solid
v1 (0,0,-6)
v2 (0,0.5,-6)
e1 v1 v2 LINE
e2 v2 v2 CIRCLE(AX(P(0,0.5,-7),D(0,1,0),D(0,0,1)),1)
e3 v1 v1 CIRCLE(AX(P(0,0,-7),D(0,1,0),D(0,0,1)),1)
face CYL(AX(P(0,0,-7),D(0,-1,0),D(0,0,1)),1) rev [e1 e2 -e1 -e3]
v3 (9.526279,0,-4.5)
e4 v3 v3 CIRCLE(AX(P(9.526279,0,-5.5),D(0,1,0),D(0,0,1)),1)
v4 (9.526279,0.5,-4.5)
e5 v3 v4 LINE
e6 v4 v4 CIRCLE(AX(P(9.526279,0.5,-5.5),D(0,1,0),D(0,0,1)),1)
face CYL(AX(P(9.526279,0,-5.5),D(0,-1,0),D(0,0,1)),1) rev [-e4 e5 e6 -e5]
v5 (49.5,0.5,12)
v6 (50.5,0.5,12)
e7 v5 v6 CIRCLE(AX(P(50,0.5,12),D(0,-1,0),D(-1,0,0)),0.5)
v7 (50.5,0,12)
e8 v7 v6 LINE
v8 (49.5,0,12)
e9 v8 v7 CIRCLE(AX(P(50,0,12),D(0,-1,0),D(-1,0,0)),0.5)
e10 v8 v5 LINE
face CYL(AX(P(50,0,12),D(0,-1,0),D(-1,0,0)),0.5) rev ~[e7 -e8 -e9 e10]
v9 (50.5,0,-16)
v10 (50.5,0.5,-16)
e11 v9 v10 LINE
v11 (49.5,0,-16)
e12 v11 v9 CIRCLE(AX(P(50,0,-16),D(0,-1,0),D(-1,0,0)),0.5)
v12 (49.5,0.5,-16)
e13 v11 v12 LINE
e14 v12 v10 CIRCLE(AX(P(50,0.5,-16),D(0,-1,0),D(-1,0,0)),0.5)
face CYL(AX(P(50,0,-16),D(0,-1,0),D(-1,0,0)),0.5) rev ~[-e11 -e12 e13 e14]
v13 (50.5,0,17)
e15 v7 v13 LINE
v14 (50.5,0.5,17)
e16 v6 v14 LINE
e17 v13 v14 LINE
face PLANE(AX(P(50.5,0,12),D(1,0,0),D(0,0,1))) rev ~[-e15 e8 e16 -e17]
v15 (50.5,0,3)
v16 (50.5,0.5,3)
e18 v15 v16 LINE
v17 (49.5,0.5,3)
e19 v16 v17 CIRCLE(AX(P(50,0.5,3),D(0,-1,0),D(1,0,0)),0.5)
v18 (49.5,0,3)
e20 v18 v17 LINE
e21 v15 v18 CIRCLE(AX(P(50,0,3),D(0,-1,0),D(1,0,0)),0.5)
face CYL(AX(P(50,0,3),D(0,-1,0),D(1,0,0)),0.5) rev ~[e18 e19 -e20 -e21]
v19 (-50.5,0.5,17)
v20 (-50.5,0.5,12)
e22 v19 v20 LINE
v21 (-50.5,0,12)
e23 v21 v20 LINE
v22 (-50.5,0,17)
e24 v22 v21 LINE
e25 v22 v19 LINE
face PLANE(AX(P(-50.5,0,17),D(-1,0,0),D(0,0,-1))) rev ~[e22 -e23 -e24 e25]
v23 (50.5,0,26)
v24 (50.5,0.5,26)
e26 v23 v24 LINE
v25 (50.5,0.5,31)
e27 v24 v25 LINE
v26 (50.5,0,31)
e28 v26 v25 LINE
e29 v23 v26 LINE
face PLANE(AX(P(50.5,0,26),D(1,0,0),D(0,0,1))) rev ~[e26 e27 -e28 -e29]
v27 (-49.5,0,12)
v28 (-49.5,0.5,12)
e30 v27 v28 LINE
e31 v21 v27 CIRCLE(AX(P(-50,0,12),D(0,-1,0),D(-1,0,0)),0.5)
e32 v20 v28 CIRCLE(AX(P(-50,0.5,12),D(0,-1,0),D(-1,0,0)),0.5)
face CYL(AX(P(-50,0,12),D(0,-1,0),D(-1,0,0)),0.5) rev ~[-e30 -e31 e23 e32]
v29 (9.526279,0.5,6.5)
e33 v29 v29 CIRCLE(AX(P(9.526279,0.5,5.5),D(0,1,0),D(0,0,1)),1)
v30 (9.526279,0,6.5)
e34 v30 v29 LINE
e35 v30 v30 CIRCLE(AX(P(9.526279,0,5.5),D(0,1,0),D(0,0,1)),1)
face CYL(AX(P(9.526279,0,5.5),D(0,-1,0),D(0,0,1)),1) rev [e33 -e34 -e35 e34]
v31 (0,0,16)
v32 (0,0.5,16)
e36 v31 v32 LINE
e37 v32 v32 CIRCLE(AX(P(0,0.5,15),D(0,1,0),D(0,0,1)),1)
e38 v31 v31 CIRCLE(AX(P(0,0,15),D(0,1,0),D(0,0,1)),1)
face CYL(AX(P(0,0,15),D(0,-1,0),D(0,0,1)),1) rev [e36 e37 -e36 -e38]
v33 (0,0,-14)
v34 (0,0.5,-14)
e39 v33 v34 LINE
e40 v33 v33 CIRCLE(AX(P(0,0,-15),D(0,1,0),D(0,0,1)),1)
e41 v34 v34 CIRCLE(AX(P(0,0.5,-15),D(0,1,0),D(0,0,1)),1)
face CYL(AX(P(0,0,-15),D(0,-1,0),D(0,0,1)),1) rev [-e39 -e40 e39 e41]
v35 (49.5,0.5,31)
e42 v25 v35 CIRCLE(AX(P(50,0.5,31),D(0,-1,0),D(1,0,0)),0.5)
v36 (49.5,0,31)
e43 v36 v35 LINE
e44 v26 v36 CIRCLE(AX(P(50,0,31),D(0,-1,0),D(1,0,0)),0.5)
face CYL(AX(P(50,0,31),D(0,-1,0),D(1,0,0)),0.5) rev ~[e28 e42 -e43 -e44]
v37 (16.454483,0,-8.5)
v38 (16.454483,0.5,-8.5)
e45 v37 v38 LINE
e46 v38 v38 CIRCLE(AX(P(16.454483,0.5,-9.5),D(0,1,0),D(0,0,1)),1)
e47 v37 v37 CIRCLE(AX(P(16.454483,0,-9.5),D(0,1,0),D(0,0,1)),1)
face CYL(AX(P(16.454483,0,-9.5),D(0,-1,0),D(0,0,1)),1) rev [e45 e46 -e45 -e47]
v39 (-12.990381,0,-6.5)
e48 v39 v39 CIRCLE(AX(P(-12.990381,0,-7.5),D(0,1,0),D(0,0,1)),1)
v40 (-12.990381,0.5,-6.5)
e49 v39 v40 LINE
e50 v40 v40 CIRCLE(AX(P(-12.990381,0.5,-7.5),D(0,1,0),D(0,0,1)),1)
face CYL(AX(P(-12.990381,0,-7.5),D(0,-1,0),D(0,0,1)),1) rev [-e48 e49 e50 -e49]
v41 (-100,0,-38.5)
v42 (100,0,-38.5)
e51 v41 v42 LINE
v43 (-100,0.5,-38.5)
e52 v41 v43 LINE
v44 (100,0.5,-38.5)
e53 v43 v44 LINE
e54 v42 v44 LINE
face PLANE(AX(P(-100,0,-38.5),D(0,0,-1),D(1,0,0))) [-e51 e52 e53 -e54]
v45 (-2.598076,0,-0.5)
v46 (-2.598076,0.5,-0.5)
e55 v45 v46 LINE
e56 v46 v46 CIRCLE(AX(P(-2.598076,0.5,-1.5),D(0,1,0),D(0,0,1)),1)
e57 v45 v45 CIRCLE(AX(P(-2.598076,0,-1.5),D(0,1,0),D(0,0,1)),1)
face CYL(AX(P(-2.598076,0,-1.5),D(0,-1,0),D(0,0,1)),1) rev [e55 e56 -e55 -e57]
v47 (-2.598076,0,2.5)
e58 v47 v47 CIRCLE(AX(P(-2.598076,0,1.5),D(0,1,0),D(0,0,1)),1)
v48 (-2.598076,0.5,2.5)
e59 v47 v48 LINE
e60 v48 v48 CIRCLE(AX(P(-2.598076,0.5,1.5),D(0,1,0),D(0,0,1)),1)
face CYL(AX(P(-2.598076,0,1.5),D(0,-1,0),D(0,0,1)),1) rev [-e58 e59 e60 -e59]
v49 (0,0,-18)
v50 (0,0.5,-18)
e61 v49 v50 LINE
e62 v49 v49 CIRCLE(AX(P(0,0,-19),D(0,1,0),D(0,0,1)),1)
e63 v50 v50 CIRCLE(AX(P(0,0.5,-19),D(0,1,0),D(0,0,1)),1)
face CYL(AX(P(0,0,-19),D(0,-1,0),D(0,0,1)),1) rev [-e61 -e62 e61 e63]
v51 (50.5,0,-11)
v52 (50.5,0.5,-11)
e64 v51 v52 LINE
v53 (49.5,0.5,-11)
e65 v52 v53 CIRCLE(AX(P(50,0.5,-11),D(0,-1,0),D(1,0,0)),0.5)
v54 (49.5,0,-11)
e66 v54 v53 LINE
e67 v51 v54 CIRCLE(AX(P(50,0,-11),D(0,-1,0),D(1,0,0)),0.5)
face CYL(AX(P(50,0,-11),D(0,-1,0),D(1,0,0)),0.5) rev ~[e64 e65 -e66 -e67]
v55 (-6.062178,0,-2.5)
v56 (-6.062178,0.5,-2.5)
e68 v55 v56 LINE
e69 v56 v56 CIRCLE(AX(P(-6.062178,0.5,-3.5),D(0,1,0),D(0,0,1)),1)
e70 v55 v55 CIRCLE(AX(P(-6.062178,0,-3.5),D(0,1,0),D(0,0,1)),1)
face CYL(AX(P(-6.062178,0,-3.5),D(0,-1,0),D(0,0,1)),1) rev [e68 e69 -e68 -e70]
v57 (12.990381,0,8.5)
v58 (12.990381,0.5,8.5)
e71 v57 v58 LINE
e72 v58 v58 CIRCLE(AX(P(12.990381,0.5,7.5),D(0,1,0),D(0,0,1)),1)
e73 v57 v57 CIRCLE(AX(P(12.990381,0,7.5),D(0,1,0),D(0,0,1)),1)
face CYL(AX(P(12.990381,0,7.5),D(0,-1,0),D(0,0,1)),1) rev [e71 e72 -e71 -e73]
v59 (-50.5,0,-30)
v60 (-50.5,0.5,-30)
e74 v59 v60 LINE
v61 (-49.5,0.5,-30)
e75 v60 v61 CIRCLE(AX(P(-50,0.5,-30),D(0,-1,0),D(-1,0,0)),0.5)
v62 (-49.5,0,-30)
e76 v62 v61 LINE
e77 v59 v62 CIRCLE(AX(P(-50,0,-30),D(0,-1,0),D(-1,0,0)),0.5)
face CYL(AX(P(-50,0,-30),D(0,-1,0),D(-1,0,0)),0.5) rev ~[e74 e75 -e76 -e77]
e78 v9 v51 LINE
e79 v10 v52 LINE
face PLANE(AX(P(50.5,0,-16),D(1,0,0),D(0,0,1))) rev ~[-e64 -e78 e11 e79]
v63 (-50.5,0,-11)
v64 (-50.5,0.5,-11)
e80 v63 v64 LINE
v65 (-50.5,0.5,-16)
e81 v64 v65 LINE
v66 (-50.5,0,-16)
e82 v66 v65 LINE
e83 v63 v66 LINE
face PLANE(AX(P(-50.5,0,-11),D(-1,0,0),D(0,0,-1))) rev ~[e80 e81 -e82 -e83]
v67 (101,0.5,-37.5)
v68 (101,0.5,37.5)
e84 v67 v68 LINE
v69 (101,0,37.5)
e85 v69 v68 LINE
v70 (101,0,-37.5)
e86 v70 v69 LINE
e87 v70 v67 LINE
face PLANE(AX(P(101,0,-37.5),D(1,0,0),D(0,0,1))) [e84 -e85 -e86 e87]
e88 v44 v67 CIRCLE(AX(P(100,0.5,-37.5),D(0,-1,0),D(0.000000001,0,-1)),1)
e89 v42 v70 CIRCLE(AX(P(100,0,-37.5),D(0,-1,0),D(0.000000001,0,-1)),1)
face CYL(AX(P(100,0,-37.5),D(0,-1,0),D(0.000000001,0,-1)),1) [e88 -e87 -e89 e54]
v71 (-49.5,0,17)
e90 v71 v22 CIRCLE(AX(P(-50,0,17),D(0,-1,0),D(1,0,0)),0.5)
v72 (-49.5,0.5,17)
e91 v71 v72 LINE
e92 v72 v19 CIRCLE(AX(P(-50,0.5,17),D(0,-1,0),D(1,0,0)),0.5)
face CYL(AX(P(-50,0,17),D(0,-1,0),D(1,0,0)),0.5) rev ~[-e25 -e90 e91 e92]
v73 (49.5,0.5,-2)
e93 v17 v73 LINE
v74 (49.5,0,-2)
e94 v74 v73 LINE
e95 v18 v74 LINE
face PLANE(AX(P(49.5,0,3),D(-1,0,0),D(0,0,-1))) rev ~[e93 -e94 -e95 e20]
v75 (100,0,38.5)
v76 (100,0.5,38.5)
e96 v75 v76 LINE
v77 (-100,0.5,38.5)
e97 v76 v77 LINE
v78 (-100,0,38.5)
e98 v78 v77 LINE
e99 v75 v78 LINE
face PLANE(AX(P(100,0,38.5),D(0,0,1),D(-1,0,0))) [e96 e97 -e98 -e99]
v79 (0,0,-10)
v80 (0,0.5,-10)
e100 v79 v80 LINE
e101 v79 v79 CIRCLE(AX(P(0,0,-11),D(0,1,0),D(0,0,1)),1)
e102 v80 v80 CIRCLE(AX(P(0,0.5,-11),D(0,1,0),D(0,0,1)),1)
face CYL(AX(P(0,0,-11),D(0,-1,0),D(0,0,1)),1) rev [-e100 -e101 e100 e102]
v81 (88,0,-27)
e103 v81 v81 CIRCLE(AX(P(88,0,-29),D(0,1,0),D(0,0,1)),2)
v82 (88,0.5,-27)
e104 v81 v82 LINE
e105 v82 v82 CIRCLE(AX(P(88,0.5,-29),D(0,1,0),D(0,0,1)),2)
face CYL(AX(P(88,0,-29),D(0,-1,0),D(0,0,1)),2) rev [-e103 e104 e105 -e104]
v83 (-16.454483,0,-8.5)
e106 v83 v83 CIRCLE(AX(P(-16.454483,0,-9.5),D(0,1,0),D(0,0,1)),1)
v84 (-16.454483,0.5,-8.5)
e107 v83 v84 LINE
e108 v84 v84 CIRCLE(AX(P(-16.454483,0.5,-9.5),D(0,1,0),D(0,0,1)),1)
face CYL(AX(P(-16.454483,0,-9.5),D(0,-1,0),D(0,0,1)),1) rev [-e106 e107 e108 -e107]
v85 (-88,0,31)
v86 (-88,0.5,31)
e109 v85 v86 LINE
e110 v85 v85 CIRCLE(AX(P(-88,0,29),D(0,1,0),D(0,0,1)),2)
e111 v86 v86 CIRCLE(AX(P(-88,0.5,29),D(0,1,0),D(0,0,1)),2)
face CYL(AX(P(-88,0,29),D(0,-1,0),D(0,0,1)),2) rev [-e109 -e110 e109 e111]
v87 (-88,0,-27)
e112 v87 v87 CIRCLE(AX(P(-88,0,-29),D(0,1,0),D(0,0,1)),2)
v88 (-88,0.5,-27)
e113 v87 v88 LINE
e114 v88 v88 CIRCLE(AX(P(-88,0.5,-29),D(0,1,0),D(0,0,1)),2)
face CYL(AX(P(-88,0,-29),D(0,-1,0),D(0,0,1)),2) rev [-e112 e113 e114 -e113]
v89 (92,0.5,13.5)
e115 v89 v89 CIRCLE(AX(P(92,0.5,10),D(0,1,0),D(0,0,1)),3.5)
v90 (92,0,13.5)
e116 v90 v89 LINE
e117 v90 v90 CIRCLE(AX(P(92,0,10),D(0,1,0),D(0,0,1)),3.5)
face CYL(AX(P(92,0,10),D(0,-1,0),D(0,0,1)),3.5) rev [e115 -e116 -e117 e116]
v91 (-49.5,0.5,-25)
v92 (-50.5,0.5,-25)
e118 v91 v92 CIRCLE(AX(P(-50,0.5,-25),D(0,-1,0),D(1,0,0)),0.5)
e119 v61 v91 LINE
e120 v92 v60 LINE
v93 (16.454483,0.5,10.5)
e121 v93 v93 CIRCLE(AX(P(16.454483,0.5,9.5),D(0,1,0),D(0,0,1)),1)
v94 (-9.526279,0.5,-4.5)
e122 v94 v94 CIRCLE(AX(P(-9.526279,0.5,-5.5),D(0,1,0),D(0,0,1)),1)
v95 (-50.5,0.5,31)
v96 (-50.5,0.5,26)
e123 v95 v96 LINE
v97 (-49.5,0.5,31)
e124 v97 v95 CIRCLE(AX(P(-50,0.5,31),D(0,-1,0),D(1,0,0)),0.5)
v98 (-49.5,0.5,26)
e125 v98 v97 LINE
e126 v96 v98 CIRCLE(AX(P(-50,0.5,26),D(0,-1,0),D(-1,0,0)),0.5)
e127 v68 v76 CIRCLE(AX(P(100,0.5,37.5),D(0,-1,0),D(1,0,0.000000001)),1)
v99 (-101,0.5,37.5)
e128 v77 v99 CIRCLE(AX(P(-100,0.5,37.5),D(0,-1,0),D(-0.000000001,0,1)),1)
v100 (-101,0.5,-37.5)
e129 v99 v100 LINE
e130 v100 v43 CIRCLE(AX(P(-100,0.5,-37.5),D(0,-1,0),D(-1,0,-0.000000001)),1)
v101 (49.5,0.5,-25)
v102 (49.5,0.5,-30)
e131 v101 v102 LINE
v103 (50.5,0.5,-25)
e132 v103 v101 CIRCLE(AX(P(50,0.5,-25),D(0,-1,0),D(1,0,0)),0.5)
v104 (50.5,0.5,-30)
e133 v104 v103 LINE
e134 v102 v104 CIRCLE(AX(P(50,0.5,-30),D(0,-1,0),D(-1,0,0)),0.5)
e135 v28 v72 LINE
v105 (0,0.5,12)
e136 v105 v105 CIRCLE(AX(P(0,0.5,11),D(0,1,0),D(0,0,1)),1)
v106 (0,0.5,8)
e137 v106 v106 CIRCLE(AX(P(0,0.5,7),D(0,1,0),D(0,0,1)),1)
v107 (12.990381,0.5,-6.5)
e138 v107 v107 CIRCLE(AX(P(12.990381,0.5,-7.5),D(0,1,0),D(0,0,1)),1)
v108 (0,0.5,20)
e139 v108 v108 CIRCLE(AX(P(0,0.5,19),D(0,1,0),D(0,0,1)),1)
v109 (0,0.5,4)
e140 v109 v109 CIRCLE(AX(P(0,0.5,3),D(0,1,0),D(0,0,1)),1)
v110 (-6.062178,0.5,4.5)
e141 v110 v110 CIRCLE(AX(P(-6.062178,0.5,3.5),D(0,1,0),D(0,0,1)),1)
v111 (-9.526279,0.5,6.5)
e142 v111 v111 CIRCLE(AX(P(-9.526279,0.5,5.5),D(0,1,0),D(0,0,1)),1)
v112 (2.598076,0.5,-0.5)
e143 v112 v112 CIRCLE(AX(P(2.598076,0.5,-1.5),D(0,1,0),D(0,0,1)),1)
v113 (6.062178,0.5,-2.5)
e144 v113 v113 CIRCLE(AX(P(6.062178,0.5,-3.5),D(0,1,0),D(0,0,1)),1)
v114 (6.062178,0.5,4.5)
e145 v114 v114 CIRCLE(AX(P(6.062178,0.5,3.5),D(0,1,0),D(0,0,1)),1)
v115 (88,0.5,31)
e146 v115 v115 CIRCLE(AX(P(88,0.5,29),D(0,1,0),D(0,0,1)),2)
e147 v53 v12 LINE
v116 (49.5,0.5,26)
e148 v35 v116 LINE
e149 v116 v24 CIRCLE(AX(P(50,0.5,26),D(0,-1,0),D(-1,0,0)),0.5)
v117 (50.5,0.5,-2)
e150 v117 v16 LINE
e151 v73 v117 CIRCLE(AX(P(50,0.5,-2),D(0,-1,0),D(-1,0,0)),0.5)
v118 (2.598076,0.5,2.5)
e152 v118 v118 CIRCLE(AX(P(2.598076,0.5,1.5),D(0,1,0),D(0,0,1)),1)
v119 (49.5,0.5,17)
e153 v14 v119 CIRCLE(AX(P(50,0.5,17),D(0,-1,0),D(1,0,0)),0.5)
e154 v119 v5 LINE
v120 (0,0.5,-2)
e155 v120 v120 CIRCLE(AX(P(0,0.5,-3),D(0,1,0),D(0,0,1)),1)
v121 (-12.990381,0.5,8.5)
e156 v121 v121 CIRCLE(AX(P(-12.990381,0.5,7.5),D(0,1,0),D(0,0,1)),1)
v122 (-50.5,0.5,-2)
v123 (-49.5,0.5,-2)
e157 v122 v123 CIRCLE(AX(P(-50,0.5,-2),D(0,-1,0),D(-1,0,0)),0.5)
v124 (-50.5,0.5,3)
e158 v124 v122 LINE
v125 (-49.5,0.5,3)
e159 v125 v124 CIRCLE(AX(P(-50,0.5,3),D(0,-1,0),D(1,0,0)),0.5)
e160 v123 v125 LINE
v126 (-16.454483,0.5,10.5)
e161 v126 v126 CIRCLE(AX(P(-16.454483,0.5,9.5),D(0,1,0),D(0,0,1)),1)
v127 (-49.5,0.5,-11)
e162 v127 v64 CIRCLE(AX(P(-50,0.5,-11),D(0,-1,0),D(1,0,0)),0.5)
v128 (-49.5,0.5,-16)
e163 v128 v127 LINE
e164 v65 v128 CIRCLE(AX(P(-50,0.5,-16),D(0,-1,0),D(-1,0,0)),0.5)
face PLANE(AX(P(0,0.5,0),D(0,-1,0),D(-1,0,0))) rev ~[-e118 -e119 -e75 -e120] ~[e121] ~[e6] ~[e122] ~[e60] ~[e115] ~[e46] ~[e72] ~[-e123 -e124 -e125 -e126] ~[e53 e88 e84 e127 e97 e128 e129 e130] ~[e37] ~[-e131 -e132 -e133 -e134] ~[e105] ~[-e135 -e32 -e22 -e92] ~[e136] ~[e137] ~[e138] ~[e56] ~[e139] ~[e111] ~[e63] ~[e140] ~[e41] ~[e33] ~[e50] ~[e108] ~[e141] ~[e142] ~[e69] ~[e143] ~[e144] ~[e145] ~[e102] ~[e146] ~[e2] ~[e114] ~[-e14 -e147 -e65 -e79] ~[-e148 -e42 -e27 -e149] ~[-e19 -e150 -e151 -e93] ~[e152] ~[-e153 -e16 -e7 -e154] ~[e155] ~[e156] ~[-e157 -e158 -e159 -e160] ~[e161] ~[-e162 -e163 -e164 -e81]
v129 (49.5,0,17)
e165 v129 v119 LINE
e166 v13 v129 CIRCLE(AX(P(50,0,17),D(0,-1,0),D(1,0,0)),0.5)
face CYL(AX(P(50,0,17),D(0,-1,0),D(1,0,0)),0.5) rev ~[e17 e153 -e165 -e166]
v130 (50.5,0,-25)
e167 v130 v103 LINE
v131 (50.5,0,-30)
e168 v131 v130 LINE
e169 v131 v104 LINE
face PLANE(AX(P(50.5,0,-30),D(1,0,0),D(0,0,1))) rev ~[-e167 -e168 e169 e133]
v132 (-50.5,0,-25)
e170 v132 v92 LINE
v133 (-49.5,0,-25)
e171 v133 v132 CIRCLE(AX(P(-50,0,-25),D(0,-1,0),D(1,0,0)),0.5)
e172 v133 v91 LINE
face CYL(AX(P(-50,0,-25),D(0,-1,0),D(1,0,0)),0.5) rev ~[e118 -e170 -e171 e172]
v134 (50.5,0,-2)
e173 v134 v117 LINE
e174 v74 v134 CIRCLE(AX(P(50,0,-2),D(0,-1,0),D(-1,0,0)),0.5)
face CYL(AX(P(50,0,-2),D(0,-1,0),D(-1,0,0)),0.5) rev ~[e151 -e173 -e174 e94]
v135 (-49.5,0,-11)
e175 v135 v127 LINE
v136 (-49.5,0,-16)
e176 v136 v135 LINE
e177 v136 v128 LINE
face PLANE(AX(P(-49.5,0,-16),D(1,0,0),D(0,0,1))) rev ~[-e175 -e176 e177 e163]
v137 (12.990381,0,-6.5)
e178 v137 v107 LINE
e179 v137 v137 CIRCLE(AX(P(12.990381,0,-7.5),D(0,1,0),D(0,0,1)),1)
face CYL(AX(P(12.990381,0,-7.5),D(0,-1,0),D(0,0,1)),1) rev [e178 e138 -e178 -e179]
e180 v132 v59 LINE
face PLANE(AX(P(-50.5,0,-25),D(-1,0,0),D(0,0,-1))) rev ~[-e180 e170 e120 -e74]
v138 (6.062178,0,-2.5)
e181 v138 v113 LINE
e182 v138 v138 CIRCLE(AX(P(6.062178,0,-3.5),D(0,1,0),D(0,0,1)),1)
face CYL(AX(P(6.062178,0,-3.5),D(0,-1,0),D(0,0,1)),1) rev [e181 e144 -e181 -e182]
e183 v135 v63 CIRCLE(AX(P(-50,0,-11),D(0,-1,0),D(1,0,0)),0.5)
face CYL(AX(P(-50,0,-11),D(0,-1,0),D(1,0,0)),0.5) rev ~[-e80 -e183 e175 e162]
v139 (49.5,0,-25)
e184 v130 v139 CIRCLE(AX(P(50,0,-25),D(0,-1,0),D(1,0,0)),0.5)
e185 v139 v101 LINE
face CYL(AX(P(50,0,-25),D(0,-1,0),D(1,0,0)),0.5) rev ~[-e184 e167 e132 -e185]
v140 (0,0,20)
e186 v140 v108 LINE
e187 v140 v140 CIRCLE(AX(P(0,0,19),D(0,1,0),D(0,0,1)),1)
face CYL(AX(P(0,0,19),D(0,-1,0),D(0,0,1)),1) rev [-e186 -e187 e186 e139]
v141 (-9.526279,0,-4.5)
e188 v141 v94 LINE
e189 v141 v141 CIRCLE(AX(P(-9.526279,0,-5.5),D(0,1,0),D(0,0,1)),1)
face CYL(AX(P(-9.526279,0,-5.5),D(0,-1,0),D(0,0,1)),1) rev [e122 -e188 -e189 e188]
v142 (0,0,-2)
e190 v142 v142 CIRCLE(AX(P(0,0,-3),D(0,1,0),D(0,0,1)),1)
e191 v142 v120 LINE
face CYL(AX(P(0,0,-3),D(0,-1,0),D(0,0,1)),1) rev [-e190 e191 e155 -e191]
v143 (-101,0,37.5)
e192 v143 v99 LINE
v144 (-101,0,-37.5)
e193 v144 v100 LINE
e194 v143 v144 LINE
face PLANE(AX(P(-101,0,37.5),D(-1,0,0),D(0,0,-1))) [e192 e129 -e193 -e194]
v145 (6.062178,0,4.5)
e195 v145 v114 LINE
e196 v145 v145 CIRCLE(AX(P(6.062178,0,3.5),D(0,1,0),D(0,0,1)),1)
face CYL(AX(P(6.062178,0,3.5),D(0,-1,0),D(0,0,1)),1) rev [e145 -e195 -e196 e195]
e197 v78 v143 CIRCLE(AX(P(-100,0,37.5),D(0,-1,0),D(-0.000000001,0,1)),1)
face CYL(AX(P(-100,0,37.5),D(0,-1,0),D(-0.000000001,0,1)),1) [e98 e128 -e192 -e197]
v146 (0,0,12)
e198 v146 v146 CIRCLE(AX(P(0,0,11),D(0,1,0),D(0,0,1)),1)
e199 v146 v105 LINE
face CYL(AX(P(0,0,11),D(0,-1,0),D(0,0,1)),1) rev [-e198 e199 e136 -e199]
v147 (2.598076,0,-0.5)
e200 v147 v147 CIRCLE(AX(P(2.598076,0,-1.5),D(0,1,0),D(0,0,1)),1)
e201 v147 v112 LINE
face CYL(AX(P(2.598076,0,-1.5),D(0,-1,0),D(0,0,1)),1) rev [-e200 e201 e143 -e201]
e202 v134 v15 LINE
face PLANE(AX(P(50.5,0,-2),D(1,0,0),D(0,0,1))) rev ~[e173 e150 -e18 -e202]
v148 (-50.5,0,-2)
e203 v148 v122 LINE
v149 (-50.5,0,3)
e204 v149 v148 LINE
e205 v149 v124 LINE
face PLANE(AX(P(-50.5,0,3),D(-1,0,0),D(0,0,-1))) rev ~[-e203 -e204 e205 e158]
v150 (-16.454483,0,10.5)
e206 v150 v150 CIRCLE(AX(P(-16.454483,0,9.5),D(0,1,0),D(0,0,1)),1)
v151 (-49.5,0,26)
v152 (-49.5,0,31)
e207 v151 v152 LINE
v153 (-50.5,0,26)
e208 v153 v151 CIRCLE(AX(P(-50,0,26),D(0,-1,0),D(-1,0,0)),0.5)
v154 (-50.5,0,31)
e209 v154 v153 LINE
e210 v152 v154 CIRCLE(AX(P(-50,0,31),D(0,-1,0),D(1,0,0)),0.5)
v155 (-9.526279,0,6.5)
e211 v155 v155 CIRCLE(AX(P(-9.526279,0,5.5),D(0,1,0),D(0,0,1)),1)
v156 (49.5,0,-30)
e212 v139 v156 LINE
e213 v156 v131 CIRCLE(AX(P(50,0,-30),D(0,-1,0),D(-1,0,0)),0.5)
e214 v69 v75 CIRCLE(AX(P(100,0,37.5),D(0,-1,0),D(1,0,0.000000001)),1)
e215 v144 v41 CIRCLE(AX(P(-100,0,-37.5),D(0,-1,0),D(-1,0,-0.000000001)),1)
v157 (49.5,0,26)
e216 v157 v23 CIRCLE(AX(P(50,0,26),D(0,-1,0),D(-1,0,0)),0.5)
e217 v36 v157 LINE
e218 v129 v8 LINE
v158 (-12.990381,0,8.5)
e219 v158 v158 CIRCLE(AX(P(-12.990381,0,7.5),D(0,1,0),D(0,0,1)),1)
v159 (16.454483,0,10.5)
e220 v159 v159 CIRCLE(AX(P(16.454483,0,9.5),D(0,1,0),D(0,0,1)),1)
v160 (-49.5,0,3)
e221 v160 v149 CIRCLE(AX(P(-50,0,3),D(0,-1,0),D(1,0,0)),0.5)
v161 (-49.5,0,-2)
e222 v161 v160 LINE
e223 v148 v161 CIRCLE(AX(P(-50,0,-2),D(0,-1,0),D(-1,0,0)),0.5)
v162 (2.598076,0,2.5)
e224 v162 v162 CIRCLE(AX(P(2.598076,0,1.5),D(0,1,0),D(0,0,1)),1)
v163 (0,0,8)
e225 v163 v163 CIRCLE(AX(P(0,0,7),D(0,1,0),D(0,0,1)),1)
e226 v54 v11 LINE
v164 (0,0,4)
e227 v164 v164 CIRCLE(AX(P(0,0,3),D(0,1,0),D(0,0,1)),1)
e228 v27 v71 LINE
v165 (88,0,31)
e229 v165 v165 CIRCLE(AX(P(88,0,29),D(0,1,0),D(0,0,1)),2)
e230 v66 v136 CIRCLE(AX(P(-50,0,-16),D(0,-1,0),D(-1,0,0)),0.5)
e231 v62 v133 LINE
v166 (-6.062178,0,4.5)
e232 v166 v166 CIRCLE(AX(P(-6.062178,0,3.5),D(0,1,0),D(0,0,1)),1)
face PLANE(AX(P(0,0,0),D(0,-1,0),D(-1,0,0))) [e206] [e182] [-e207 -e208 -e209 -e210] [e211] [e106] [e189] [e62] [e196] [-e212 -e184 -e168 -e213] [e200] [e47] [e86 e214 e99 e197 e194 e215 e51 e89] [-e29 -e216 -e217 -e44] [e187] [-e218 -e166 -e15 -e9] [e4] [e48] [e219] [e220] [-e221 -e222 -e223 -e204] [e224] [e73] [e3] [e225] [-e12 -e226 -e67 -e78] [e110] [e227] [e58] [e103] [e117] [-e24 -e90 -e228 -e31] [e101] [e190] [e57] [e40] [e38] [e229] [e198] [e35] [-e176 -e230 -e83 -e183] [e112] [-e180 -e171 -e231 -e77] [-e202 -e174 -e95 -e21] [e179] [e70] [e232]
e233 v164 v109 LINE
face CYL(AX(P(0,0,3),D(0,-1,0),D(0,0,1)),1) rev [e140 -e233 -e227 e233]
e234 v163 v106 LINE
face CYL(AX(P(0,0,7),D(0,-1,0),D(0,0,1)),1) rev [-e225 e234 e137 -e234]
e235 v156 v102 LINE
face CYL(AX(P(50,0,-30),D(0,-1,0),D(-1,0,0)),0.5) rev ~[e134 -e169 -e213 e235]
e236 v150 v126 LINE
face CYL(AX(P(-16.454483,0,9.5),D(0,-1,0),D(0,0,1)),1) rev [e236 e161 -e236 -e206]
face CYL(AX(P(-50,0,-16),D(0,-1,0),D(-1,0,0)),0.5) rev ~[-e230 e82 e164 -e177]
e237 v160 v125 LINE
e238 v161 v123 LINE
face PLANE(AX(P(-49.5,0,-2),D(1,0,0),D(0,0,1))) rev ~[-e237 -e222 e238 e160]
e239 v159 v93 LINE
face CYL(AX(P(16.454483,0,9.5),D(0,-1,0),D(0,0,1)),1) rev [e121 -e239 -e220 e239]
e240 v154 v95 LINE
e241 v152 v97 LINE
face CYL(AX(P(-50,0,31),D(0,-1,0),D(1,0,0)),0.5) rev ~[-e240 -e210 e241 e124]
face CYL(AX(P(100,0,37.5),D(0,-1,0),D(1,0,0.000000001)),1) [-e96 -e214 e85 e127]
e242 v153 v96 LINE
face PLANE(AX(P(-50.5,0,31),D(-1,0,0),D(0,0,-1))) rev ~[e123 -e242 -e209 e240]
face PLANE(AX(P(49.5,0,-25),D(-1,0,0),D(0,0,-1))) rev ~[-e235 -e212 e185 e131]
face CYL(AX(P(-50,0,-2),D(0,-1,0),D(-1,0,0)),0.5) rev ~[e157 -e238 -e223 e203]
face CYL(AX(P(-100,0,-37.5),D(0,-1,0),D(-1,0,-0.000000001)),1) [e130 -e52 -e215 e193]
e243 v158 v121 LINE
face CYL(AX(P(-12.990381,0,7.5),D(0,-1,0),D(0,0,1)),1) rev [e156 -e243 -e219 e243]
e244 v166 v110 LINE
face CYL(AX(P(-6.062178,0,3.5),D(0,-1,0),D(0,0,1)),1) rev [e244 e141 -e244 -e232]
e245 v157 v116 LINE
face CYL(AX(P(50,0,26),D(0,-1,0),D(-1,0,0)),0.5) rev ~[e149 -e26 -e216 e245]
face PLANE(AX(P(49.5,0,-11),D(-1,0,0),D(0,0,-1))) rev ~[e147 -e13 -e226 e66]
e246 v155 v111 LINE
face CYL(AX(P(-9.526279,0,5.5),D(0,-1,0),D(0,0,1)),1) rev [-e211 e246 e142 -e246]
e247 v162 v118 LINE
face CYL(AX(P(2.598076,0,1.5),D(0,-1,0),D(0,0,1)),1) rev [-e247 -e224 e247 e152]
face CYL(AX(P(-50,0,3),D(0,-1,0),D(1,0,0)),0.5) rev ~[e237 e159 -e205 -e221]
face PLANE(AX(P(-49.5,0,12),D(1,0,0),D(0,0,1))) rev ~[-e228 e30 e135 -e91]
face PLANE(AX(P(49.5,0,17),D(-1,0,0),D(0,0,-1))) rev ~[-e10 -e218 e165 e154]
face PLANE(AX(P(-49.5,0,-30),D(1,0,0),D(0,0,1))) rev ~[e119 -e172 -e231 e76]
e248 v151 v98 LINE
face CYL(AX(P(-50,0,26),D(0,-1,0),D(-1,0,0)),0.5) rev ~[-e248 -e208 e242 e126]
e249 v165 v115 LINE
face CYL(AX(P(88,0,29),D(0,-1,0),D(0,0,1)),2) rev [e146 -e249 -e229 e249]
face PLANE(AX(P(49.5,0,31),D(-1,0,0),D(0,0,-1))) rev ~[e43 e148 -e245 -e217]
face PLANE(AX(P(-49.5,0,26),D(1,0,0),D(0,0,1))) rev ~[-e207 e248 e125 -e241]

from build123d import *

# Parameters (mm, degrees)
SKETCH_1_R      = 2
SKETCH_1_R_2    = 3.5
SKETCH_1_R_3    = 1
EXTRUDE_2_DEPTH = 0.5


with BuildPart() as part:
    # Эскиз1 → Бобышка-Вытянуть2 (new body)
    with BuildSketch(Plane(origin=(0, 0, 0), x_dir=(1, 0, 0), z_dir=(0, 1, 0))):
        with BuildLine():
            Line((-100, 38.5), (100, 38.5))
            ThreePointArc((100, 38.5), (100.707106781, 38.207106781), (101, 37.5))
            Line((101, 37.5), (101, -37.5))
            ThreePointArc((101, -37.5), (100.707106781, -38.207106781), (100, -38.5))
            Line((100, -38.5), (-100, -38.5))
            ThreePointArc((-100, -38.5), (-100.707106781, -38.207106781), (-101, -37.5))
            Line((-101, -37.5), (-101, 37.5))
            ThreePointArc((-101, 37.5), (-100.707106781, 38.207106781), (-100, 38.5))
        make_face()
        with Locations(Location((-88, 29, 0), (0, 0, 270))):
            Circle(SKETCH_1_R, mode=Mode.SUBTRACT)
        with Locations(Location((88, 29, 0), (0, 0, 270))):
            Circle(SKETCH_1_R, mode=Mode.SUBTRACT)
        with Locations(Location((88, -29, 0), (0, 0, 270))):
            Circle(SKETCH_1_R, mode=Mode.SUBTRACT)
        with Locations(Location((-88, -29, 0), (0, 0, 270))):
            Circle(SKETCH_1_R, mode=Mode.SUBTRACT)
        with Locations(Location((92, -10, 0), (0, 0, 270))):
            Circle(SKETCH_1_R_2, mode=Mode.SUBTRACT)
        with Locations(Location((0, 3, 0), (0, 0, 270))):
            Circle(SKETCH_1_R_3, mode=Mode.SUBTRACT)
        with Locations(Location((0, 7, 0), (0, 0, 270))):
            Circle(SKETCH_1_R_3, mode=Mode.SUBTRACT)
        with Locations(Location((0, 11, 0), (0, 0, 270))):
            Circle(SKETCH_1_R_3, mode=Mode.SUBTRACT)
        with Locations(Location((0, 15, 0), (0, 0, 270))):
            Circle(SKETCH_1_R_3, mode=Mode.SUBTRACT)
        with Locations(Location((0, 19, 0), (0, 0, 270))):
            Circle(SKETCH_1_R_3, mode=Mode.SUBTRACT)
        with Locations(Location((2.598076211, 1.5, 0), (0, 0, 270))):
            Circle(SKETCH_1_R_3, mode=Mode.SUBTRACT)
        with Locations(Location((6.062177826, 3.5, 0), (0, 0, 270))):
            Circle(SKETCH_1_R_3, mode=Mode.SUBTRACT)
        with Locations(Location((9.526279442, 5.5, 0), (0, 0, 270))):
            Circle(SKETCH_1_R_3, mode=Mode.SUBTRACT)
        with Locations(Location((12.990381057, 7.5, 0), (0, 0, 270))):
            Circle(SKETCH_1_R_3, mode=Mode.SUBTRACT)
        with Locations(Location((16.454482672, 9.5, 0), (0, 0, 270))):
            Circle(SKETCH_1_R_3, mode=Mode.SUBTRACT)
        with Locations(Location((2.598076211, -1.5, 0), (0, 0, 270))):
            Circle(SKETCH_1_R_3, mode=Mode.SUBTRACT)
        with Locations(Location((6.062177826, -3.5, 0), (0, 0, 270))):
            Circle(SKETCH_1_R_3, mode=Mode.SUBTRACT)
        with Locations(Location((9.526279442, -5.5, 0), (0, 0, 270))):
            Circle(SKETCH_1_R_3, mode=Mode.SUBTRACT)
        with Locations(Location((12.990381057, -7.5, 0), (0, 0, 270))):
            Circle(SKETCH_1_R_3, mode=Mode.SUBTRACT)
        with Locations(Location((16.454482672, -9.5, 0), (0, 0, 270))):
            Circle(SKETCH_1_R_3, mode=Mode.SUBTRACT)
        with Locations(Location((0, -3, 0), (0, 0, 270))):
            Circle(SKETCH_1_R_3, mode=Mode.SUBTRACT)
        with Locations(Location((0, -7, 0), (0, 0, 270))):
            Circle(SKETCH_1_R_3, mode=Mode.SUBTRACT)
        with Locations(Location((0, -11, 0), (0, 0, 270))):
            Circle(SKETCH_1_R_3, mode=Mode.SUBTRACT)
        with Locations(Location((0, -15, 0), (0, 0, 270))):
            Circle(SKETCH_1_R_3, mode=Mode.SUBTRACT)
        with Locations(Location((0, -19, 0), (0, 0, 270))):
            Circle(SKETCH_1_R_3, mode=Mode.SUBTRACT)
        with Locations(Location((-2.598076211, -1.5, 0), (0, 0, 270))):
            Circle(SKETCH_1_R_3, mode=Mode.SUBTRACT)
        with Locations(Location((-6.062177826, -3.5, 0), (0, 0, 270))):
            Circle(SKETCH_1_R_3, mode=Mode.SUBTRACT)
        with Locations(Location((-9.526279442, -5.5, 0), (0, 0, 270))):
            Circle(SKETCH_1_R_3, mode=Mode.SUBTRACT)
        with Locations(Location((-12.990381057, -7.5, 0), (0, 0, 270))):
            Circle(SKETCH_1_R_3, mode=Mode.SUBTRACT)
        with Locations(Location((-16.454482672, -9.5, 0), (0, 0, 270))):
            Circle(SKETCH_1_R_3, mode=Mode.SUBTRACT)
        with Locations(Location((-2.598076211, 1.5, 0), (0, 0, 270))):
            Circle(SKETCH_1_R_3, mode=Mode.SUBTRACT)
        with Locations(Location((-6.062177826, 3.5, 0), (0, 0, 270))):
            Circle(SKETCH_1_R_3, mode=Mode.SUBTRACT)
        with Locations(Location((-9.526279442, 5.5, 0), (0, 0, 270))):
            Circle(SKETCH_1_R_3, mode=Mode.SUBTRACT)
        with Locations(Location((-12.990381057, 7.5, 0), (0, 0, 270))):
            Circle(SKETCH_1_R_3, mode=Mode.SUBTRACT)
        with Locations(Location((-16.454482672, 9.5, 0), (0, 0, 270))):
            Circle(SKETCH_1_R_3, mode=Mode.SUBTRACT)
        with BuildLine():
            Line((-50.5, -31), (-50.5, -26))
            ThreePointArc((-50.5, -26), (-50, -25.5), (-49.5, -26))
            Line((-49.5, -26), (-49.5, -31))
            ThreePointArc((-49.5, -31), (-50, -31.5), (-50.5, -31))
        make_face(mode=Mode.SUBTRACT)
        with BuildLine():
            Line((-50.5, -17), (-50.5, -12))
            ThreePointArc((-50.5, -12), (-50, -11.5), (-49.5, -12))
            Line((-49.5, -12), (-49.5, -17))
            ThreePointArc((-49.5, -17), (-50, -17.5), (-50.5, -17))
        make_face(mode=Mode.SUBTRACT)
        with BuildLine():
            Line((49.5, -31), (49.5, -26))
            ThreePointArc((49.5, -26), (50, -25.5), (50.5, -26))
            Line((50.5, -26), (50.5, -31))
            ThreePointArc((50.5, -31), (50, -31.5), (49.5, -31))
        make_face(mode=Mode.SUBTRACT)
        with BuildLine():
            Line((49.5, -17), (49.5, -12))
            ThreePointArc((49.5, -12), (50, -11.5), (50.5, -12))
            Line((50.5, -12), (50.5, -17))
            ThreePointArc((50.5, -17), (50, -17.5), (49.5, -17))
        make_face(mode=Mode.SUBTRACT)
        with BuildLine():
            Line((49.5, -3), (49.5, 2))
            ThreePointArc((49.5, 2), (50, 2.5), (50.5, 2))
            Line((50.5, 2), (50.5, -3))
            ThreePointArc((50.5, -3), (50, -3.5), (49.5, -3))
        make_face(mode=Mode.SUBTRACT)
        with BuildLine():
            Line((49.5, 11), (49.5, 16))
            ThreePointArc((49.5, 16), (50, 16.5), (50.5, 16))
            Line((50.5, 16), (50.5, 11))
            ThreePointArc((50.5, 11), (50, 10.5), (49.5, 11))
        make_face(mode=Mode.SUBTRACT)
        with BuildLine():
            Line((49.5, 25), (49.5, 30))
            ThreePointArc((49.5, 30), (50, 30.5), (50.5, 30))
            Line((50.5, 30), (50.5, 25))
            ThreePointArc((50.5, 25), (50, 24.5), (49.5, 25))
        make_face(mode=Mode.SUBTRACT)
        with BuildLine():
            Line((-50.5, -3), (-50.5, 2))
            ThreePointArc((-50.5, 2), (-50, 2.5), (-49.5, 2))
            Line((-49.5, 2), (-49.5, -3))
            ThreePointArc((-49.5, -3), (-50, -3.5), (-50.5, -3))
        make_face(mode=Mode.SUBTRACT)
        with BuildLine():
            Line((-50.5, 11), (-50.5, 16))
            ThreePointArc((-50.5, 16), (-50, 16.5), (-49.5, 16))
            Line((-49.5, 16), (-49.5, 11))
            ThreePointArc((-49.5, 11), (-50, 10.5), (-50.5, 11))
        make_face(mode=Mode.SUBTRACT)
        with BuildLine():
            Line((-50.5, 25), (-50.5, 30))
            ThreePointArc((-50.5, 30), (-50, 30.5), (-49.5, 30))
            Line((-49.5, 30), (-49.5, 25))
            ThreePointArc((-49.5, 25), (-50, 24.5), (-50.5, 25))
        make_face(mode=Mode.SUBTRACT)
    extrude(amount=EXTRUDE_2_DEPTH)


solid = part.part
